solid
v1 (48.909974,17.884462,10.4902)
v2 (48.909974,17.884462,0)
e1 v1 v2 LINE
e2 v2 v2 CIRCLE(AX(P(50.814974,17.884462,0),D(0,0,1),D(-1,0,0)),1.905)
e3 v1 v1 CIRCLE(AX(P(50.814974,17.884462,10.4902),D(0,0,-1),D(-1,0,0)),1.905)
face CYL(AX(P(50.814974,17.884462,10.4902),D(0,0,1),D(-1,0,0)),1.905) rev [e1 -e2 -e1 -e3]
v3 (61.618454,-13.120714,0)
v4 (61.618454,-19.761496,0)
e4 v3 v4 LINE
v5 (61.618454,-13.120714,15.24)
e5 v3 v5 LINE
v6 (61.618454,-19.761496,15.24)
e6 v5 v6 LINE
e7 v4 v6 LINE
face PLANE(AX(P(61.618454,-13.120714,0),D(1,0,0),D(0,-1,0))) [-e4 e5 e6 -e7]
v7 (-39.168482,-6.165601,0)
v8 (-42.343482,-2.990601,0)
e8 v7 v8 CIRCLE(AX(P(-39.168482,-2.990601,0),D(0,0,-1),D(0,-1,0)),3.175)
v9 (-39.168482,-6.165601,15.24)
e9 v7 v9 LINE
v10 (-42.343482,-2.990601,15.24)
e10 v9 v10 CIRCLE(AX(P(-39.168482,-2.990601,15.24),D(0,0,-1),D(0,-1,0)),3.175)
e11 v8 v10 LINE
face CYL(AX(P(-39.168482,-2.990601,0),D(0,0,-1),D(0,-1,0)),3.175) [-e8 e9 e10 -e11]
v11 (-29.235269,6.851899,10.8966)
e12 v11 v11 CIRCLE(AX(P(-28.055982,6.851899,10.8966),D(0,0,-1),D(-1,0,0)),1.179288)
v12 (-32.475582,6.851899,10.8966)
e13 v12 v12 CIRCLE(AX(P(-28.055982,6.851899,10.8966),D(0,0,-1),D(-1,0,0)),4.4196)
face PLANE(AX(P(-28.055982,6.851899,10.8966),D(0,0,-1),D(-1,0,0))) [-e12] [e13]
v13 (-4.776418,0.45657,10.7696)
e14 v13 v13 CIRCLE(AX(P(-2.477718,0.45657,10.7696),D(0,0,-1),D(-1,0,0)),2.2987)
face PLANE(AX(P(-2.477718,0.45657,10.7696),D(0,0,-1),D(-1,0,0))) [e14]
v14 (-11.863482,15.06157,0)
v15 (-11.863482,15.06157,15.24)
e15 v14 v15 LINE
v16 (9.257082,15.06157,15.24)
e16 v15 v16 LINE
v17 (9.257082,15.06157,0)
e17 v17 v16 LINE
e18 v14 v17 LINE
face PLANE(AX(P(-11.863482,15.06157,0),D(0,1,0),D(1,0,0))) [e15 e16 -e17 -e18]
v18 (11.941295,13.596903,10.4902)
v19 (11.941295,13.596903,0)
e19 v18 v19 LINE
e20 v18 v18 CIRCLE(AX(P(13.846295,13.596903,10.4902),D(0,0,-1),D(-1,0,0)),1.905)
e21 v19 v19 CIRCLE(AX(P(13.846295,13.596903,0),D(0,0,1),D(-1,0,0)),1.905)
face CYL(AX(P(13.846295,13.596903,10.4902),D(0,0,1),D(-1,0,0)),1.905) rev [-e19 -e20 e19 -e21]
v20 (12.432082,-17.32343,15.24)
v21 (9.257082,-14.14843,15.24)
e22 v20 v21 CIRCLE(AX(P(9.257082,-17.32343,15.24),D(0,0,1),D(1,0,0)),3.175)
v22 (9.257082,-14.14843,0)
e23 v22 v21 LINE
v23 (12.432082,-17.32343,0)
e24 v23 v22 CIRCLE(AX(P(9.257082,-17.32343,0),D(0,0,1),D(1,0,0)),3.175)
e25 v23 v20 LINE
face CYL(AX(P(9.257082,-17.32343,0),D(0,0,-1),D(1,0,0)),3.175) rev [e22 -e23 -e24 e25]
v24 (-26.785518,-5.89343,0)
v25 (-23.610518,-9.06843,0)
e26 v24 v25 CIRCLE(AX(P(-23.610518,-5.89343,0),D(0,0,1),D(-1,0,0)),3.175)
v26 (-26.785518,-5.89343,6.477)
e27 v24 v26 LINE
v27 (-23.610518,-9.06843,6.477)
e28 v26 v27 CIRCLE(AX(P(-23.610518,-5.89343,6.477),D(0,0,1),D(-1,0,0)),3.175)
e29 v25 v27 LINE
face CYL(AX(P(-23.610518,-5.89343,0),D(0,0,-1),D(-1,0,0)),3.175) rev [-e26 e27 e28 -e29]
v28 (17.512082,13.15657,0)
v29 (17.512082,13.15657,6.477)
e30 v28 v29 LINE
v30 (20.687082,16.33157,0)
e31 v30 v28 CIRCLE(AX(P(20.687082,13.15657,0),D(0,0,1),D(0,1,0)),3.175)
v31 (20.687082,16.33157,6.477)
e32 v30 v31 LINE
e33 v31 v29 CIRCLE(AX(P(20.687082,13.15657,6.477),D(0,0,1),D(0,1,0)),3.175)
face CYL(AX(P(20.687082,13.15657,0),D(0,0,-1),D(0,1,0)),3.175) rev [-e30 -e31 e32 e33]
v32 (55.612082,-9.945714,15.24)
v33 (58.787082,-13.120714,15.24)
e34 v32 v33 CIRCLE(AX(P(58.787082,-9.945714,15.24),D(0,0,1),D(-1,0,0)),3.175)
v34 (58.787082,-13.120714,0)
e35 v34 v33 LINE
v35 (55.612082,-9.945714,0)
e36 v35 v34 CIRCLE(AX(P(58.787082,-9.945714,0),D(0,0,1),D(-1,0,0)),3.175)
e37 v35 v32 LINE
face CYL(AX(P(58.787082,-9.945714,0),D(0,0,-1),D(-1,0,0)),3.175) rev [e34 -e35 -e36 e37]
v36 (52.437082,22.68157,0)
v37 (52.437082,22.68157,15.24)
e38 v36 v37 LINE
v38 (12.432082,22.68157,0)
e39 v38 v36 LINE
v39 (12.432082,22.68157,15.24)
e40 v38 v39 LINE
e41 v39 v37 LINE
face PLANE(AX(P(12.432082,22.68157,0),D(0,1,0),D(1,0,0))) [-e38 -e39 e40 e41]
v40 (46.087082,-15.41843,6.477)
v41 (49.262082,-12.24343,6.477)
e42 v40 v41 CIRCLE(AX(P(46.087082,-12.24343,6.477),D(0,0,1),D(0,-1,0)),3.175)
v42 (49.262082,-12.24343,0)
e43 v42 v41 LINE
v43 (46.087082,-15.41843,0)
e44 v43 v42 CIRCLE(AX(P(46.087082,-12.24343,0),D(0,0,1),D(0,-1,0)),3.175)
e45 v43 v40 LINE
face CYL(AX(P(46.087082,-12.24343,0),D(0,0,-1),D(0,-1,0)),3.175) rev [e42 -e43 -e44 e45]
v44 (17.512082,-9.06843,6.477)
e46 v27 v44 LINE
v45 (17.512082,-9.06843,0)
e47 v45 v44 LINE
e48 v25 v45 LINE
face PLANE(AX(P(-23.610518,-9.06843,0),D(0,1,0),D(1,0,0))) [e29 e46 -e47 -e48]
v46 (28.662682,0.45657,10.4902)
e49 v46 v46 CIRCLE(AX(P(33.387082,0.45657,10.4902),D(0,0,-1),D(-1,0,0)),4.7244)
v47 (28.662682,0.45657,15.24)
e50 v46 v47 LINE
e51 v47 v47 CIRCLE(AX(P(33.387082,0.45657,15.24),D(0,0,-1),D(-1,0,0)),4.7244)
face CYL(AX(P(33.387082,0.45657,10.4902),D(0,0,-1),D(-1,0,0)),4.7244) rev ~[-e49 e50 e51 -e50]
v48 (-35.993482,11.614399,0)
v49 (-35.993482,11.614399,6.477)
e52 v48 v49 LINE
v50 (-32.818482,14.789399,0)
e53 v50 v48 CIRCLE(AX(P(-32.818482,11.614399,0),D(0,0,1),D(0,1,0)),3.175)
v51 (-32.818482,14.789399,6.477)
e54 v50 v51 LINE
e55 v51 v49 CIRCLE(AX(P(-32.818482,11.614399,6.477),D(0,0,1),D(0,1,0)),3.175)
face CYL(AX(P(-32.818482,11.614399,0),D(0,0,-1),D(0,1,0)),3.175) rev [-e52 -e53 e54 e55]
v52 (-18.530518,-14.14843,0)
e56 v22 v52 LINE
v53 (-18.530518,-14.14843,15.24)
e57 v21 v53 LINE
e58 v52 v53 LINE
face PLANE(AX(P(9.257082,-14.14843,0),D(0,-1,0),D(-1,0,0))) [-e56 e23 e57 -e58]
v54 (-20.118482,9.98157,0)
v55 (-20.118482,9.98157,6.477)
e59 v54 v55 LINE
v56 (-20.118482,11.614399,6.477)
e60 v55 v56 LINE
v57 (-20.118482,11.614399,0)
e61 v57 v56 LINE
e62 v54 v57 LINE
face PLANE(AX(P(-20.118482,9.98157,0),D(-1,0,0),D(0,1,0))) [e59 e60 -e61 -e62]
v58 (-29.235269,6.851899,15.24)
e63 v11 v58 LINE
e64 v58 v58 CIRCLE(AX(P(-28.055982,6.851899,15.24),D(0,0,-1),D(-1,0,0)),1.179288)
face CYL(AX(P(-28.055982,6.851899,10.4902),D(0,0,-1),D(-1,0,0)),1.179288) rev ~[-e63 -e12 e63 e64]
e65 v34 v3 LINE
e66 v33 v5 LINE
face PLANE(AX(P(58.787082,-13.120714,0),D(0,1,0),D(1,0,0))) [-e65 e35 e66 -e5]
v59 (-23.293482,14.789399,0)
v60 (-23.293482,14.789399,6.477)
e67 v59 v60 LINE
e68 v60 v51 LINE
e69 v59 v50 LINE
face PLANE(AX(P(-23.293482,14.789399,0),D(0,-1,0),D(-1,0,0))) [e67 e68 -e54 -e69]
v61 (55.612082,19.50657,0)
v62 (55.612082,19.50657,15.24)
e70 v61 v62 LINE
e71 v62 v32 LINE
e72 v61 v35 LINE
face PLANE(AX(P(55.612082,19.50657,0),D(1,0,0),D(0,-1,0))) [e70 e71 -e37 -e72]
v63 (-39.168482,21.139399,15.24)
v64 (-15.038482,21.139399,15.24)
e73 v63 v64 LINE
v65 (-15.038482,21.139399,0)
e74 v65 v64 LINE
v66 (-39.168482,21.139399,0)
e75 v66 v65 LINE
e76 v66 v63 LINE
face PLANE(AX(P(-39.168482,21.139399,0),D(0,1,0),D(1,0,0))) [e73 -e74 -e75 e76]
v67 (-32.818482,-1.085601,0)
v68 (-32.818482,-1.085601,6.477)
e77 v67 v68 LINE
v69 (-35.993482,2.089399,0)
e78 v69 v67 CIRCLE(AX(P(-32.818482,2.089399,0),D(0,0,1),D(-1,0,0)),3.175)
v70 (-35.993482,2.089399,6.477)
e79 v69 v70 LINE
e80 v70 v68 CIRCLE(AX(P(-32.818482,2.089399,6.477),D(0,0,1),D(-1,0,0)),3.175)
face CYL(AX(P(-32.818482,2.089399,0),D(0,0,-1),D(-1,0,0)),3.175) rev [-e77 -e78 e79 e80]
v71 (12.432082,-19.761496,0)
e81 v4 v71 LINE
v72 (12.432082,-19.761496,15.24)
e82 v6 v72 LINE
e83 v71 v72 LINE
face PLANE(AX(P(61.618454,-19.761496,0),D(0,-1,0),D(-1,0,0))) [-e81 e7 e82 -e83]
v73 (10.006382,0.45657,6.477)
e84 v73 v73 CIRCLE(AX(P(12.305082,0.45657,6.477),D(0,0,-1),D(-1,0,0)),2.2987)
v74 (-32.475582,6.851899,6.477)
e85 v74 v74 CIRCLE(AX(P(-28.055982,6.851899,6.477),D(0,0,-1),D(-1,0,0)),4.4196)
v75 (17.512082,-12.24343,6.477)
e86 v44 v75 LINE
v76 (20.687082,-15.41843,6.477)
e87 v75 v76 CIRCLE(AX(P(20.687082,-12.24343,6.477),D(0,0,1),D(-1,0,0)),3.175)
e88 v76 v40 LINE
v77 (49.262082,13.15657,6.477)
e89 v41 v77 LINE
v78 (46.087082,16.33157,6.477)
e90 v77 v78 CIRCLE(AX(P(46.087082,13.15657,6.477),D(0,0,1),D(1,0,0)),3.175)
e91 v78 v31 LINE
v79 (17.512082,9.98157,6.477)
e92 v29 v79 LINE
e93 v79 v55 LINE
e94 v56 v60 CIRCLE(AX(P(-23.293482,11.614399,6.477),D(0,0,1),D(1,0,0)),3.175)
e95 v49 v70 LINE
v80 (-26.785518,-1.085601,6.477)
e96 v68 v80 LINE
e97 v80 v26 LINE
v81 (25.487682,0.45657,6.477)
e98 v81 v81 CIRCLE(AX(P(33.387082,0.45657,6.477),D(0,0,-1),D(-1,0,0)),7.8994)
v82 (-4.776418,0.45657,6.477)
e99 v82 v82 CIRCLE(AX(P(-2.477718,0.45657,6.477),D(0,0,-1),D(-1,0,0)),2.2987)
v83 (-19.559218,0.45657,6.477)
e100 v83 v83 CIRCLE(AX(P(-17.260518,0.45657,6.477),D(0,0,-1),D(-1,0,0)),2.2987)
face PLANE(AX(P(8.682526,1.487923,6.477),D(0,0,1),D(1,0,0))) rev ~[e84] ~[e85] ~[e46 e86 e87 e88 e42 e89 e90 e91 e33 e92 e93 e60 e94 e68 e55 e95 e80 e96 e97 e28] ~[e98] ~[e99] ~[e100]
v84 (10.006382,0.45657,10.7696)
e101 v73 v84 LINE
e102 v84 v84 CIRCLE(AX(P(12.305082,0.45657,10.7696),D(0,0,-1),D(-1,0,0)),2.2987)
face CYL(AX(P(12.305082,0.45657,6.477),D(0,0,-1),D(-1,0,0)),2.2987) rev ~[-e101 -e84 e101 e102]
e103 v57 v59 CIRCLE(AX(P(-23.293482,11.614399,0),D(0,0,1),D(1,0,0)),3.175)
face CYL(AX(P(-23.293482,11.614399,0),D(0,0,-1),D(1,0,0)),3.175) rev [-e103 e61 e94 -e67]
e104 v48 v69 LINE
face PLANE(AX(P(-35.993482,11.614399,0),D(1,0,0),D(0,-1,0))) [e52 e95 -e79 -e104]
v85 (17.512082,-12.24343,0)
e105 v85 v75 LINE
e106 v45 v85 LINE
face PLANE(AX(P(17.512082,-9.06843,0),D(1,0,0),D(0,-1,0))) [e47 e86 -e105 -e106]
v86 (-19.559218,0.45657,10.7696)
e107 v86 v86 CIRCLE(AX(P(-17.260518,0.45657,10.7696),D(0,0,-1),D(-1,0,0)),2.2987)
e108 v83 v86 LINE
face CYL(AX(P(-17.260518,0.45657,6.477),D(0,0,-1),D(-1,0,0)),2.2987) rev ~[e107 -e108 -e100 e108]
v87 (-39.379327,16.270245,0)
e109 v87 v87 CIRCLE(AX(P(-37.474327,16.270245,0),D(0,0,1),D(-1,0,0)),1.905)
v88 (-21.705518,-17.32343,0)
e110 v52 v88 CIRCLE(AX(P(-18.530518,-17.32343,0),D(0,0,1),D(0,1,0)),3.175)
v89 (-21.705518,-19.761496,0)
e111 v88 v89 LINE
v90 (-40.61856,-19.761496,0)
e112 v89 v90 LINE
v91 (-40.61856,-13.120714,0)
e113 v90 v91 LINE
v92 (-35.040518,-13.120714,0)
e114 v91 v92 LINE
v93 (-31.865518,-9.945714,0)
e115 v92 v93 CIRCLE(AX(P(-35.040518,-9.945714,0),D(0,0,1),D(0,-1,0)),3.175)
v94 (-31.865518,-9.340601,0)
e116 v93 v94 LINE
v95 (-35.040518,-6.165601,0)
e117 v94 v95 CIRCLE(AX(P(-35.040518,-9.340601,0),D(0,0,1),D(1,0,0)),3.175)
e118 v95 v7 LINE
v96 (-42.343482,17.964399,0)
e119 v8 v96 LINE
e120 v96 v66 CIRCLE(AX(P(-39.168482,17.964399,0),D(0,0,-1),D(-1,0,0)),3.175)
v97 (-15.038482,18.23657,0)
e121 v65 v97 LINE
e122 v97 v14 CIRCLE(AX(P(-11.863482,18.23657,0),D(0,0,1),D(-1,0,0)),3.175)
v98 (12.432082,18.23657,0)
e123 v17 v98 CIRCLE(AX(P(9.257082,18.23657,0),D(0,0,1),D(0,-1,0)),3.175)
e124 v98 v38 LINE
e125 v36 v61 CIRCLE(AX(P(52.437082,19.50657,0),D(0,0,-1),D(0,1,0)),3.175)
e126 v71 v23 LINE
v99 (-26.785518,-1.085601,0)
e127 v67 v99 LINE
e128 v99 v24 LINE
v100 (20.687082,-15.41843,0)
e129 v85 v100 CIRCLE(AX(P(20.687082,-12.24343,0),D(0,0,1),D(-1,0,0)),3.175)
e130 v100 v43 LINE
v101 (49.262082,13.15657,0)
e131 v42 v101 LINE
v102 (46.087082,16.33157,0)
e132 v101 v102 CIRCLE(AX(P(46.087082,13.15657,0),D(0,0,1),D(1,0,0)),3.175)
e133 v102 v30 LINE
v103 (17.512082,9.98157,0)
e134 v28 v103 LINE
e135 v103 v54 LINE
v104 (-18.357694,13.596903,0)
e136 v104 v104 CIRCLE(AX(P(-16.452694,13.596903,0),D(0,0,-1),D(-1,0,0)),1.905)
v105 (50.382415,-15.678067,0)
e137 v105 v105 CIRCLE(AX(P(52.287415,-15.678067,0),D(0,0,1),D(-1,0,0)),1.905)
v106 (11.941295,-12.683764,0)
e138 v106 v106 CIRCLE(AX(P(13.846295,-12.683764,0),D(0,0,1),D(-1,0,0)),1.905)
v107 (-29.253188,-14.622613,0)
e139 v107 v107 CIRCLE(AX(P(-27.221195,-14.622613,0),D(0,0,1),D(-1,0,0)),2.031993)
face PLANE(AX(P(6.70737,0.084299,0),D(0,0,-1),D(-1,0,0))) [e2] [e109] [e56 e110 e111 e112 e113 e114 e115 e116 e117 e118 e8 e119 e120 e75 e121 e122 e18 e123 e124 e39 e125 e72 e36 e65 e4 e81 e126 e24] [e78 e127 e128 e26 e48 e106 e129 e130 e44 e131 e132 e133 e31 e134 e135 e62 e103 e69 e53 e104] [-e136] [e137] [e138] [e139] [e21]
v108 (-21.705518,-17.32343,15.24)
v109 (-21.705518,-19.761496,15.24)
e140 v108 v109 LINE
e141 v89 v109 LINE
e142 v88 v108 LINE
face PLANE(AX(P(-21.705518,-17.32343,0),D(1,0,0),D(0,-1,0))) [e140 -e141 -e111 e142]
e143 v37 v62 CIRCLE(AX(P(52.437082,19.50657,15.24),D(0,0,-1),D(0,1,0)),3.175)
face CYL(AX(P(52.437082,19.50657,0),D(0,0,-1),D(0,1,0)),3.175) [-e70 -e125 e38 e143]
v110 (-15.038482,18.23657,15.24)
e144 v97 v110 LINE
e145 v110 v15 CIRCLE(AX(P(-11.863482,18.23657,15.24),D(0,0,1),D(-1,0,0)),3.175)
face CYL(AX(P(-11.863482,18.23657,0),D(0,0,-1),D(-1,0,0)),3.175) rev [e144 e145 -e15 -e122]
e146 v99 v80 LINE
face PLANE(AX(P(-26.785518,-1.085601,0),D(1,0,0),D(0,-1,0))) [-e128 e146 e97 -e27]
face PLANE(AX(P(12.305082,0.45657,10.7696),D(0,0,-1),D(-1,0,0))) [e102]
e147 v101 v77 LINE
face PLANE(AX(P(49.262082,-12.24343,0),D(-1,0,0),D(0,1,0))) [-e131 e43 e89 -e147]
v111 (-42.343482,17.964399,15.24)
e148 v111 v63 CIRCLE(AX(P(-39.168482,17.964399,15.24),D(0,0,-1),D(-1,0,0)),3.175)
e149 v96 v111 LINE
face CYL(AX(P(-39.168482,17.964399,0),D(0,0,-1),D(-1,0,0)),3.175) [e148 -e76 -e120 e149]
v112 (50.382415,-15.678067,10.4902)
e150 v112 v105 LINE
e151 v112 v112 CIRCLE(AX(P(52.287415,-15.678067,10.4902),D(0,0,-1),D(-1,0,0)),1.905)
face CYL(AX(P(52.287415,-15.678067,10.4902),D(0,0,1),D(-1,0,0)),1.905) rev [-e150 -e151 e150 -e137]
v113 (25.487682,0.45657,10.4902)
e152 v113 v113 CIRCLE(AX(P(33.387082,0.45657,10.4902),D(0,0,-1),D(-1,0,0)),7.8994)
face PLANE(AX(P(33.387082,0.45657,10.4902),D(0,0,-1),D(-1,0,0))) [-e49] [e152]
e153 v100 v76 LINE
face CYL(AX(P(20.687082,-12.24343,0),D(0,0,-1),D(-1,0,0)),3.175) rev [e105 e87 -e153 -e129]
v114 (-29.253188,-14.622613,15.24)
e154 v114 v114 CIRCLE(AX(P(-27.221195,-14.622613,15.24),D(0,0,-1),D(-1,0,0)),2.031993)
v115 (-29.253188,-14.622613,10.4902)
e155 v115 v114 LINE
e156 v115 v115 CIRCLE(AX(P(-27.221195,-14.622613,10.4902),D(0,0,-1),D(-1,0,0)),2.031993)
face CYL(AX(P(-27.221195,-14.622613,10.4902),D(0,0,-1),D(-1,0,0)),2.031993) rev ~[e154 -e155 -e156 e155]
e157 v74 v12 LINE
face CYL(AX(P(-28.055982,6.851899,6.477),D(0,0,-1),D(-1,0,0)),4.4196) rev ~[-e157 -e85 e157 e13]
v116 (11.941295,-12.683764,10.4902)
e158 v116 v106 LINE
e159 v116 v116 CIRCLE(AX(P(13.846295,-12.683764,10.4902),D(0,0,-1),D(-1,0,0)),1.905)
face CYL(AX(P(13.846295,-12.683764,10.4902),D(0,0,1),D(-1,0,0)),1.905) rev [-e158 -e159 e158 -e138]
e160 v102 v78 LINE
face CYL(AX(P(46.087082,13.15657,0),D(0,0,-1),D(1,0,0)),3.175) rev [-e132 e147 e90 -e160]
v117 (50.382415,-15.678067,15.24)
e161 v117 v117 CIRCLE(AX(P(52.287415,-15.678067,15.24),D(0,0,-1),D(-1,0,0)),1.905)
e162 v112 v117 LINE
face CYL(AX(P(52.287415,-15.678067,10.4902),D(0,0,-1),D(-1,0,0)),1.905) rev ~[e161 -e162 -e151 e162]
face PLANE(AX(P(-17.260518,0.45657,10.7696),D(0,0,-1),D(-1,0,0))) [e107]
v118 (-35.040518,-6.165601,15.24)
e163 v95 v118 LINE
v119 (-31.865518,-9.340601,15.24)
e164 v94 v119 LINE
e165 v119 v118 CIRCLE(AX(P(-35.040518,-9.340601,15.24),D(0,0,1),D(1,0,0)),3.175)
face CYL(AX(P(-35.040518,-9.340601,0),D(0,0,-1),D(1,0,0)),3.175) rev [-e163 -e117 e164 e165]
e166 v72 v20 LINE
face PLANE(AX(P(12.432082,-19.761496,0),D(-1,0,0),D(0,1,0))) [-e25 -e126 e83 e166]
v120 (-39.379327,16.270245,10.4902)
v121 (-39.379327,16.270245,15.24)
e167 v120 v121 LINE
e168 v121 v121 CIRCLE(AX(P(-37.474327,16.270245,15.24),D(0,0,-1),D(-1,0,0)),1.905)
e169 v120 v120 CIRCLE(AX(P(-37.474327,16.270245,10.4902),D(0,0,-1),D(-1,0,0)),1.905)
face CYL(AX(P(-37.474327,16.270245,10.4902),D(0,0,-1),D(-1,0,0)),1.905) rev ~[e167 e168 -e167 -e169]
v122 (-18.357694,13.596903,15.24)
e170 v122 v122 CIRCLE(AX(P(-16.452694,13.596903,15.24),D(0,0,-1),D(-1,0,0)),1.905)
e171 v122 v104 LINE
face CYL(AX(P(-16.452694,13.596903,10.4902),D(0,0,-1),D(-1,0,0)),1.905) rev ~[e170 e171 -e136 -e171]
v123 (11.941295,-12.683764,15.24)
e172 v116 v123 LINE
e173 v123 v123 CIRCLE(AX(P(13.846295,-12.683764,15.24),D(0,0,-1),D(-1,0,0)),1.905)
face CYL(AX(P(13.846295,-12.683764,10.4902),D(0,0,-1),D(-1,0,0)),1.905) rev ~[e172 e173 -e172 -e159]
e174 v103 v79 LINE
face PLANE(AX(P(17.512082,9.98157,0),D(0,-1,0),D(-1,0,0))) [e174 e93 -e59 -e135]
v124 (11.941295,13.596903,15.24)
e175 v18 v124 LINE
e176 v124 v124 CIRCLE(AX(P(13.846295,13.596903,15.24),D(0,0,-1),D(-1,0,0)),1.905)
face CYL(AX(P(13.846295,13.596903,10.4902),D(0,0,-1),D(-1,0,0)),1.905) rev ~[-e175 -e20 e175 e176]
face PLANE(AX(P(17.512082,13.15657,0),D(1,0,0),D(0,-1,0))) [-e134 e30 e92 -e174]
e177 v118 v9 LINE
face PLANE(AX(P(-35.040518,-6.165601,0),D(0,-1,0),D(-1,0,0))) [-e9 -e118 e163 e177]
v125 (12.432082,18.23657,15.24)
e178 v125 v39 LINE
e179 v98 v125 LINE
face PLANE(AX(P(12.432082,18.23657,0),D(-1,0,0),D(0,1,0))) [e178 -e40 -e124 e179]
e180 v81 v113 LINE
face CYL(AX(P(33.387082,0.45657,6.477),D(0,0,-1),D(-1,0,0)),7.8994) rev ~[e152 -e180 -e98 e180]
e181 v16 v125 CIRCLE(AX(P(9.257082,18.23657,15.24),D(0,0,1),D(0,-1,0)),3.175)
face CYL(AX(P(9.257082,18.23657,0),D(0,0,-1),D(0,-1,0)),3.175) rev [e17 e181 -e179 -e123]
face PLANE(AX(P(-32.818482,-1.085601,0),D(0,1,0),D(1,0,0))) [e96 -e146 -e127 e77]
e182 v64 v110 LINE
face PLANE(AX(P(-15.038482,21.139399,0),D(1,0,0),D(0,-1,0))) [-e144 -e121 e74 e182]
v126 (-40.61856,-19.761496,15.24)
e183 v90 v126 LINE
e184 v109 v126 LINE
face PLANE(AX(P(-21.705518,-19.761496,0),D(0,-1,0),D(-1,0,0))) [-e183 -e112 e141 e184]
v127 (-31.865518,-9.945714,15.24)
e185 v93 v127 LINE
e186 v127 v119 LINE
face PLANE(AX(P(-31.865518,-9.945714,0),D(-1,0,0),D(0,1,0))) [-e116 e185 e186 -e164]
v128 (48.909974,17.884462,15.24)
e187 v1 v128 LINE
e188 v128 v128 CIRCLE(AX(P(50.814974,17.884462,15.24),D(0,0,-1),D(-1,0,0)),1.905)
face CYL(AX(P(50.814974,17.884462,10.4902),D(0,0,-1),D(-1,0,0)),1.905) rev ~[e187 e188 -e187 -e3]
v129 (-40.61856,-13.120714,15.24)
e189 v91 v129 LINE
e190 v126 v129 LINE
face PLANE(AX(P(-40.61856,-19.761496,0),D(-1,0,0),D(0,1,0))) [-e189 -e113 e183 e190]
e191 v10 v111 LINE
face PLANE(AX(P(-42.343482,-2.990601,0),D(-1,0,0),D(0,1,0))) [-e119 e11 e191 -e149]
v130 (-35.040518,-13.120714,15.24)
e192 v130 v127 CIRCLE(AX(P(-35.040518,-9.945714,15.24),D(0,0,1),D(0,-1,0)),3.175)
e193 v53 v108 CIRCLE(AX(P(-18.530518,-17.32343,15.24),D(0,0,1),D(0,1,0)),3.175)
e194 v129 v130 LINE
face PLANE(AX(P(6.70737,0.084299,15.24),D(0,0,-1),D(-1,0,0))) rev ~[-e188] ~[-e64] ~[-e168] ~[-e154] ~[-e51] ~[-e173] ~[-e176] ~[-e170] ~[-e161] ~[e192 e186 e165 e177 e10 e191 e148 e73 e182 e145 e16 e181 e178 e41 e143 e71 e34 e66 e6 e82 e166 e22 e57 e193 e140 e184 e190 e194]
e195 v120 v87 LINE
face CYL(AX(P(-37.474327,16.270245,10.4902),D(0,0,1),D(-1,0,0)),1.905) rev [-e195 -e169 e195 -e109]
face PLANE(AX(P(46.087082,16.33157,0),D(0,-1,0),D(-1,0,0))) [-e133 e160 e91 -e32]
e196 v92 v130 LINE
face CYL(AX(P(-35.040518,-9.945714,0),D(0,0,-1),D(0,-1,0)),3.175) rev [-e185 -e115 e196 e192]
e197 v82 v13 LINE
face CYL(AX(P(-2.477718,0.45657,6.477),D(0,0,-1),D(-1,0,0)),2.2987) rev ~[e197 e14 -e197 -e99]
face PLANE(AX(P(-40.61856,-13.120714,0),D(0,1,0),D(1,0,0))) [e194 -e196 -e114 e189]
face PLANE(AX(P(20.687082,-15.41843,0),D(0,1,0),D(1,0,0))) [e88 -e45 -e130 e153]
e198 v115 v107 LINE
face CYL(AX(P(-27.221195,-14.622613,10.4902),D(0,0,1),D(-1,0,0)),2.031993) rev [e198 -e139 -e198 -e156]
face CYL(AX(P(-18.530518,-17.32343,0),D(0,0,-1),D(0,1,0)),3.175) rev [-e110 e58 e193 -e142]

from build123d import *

# Parameters (mm, degrees)
EXTRUDE3_DEPTH = 15.24
EXTRUDE4_DEPTH = 6.477
SKETCH7_R      = 7.8994
EXTRUDE5_DEPTH = 4.0132
SKETCH8_R      = 2.2987
EXTRUDE6_DEPTH = 4.2926
SKETCH9_R      = 4.4196
EXTRUDE7_DEPTH = 4.4196
SKETCH10_R     = 4.7244
SKETCH10_R_2   = 1.905
SKETCH10_R_3   = 1.179287719
SKETCH10_R_4   = 2.031992692
EXTRUDE8_DEPTH = 17.5768


with BuildPart() as part:
    # Sketch4 → Extrude3 (new body)
    with BuildSketch(Plane.XY):
        with BuildLine():
            Line((-42.343481517, -2.990600597), (-42.343481517, 17.964399403))
            ThreePointArc((-42.343481517, 17.964399403), (-41.413545547, 20.209463433), (-39.168481517, 21.139399403))
            Line((-39.168481517, 21.139399403), (-15.038481517, 21.139399403))
            Line((-15.038481517, 21.139399403), (-15.038481517, 18.236569756))
            ThreePointArc((-15.038481517, 18.236569756), (-14.108545547, 15.991505726), (-11.863481517, 15.061569756))
            Line((-11.863481517, 15.061569756), (9.257081626, 15.061569756))
            ThreePointArc((9.257081626, 15.061569756), (11.502145656, 15.991505726), (12.432081626, 18.236569756))
            Line((12.432081626, 18.236569756), (12.432081626, 22.681569756))
            Line((12.432081626, 22.681569756), (52.437081626, 22.681569756))
            ThreePointArc((52.437081626, 22.681569756), (54.682145656, 21.751633786), (55.612081626, 19.506569756))
            Line((55.612081626, 19.506569756), (55.612081626, -9.945714332))
            ThreePointArc((55.612081626, -9.945714332), (56.542017596, -12.190778362), (58.787081626, -13.120714332))
            Line((58.787081626, -13.120714332), (61.618454053, -13.120714332))
            Line((61.618454053, -13.120714332), (61.618454053, -19.76149571))
            Line((61.618454053, -19.76149571), (12.432081626, -19.76149571))
            Line((12.432081626, -19.76149571), (12.432081626, -17.323430244))
            ThreePointArc((12.432081626, -17.323430244), (11.502145656, -15.078366214), (9.257081626, -14.148430244))
            Line((9.257081626, -14.148430244), (-18.530518374, -14.148430244))
            ThreePointArc((-18.530518374, -14.148430244), (-20.775582404, -15.078366214), (-21.705518374, -17.323430244))
            Line((-21.705518374, -17.323430244), (-21.705518374, -19.76149571))
            Line((-21.705518374, -19.76149571), (-40.618560355, -19.76149571))
            Line((-40.618560355, -19.76149571), (-40.618560355, -13.120714332))
            Line((-40.618560355, -13.120714332), (-35.040518374, -13.120714332))
            ThreePointArc((-35.040518374, -13.120714332), (-32.795454344, -12.190778362), (-31.865518374, -9.945714332))
            Line((-31.865518374, -9.945714332), (-31.865518374, -9.340600597))
            ThreePointArc((-31.865518374, -9.340600597), (-32.795454344, -7.095536567), (-35.040518374, -6.165600597))
            Line((-35.040518374, -6.165600597), (-39.168481517, -6.165600597))
            ThreePointArc((-39.168481517, -6.165600597), (-41.413545547, -5.235664628), (-42.343481517, -2.990600597))
        make_face()
    extrude(amount=EXTRUDE3_DEPTH)

    # Sketch1 → Extrude4 (cut)
    with BuildSketch(Plane.XY):
        with BuildLine():
            Line((-35.993481517, 11.614399403), (-35.993481517, 2.089399403))
            ThreePointArc((-35.993481517, 2.089399403), (-35.063545547, -0.155664628), (-32.818481517, -1.085600597))
            Line((-32.818481517, -1.085600597), (-26.785518374, -1.085600597))
            Line((-26.785518374, -1.085600597), (-26.785518374, -5.893430244))
            ThreePointArc((-26.785518374, -5.893430244), (-25.855582404, -8.138494274), (-23.610518374, -9.068430244))
            Line((-23.610518374, -9.068430244), (17.512081626, -9.068430244))
            Line((17.512081626, -9.068430244), (17.512081626, -12.243430244))
            ThreePointArc((17.512081626, -12.243430244), (18.442017596, -14.488494274), (20.687081626, -15.418430244))
            Line((20.687081626, -15.418430244), (46.087081626, -15.418430244))
            ThreePointArc((46.087081626, -15.418430244), (48.332145656, -14.488494274), (49.262081626, -12.243430244))
            Line((49.262081626, -12.243430244), (49.262081626, 13.156569756))
            ThreePointArc((49.262081626, 13.156569756), (48.332145656, 15.401633786), (46.087081626, 16.331569756))
            Line((46.087081626, 16.331569756), (20.687081626, 16.331569756))
            ThreePointArc((20.687081626, 16.331569756), (18.442017596, 15.401633786), (17.512081626, 13.156569756))
            Line((17.512081626, 13.156569756), (17.512081626, 9.981569756))
            Line((17.512081626, 9.981569756), (-20.118481517, 9.981569756))
            Line((-20.118481517, 9.981569756), (-20.118481517, 11.614399403))
            ThreePointArc((-20.118481517, 11.614399403), (-21.048417487, 13.859463433), (-23.293481517, 14.789399403))
            Line((-23.293481517, 14.789399403), (-32.818481517, 14.789399403))
            ThreePointArc((-32.818481517, 14.789399403), (-35.063545547, 13.859463433), (-35.993481517, 11.614399403))
        make_face()
    extrude(amount=EXTRUDE4_DEPTH, mode=Mode.SUBTRACT)

    # Sketch7 → Extrude5 (cut)
    with BuildSketch(Plane(origin=(0, 0, 6.477), x_dir=(-1, 0, 0), z_dir=(0, 0, -1))):
        with Locations((-33.387081626, 0.456569756)):
            Circle(SKETCH7_R)
    extrude(amount=-EXTRUDE5_DEPTH, mode=Mode.SUBTRACT)

    # Sketch8 → Extrude6 (cut)
    with BuildSketch(Plane(origin=(0, 0, 6.477), x_dir=(-1, 0, 0), z_dir=(0, 0, -1))):
        with Locations((-12.305081626, 0.456569756)):
            Circle(SKETCH8_R)
        with Locations((2.477718374, 0.456569756)):
            Circle(SKETCH8_R)
        with Locations((17.260518374, 0.456569756)):
            Circle(SKETCH8_R)
    extrude(amount=-EXTRUDE6_DEPTH, mode=Mode.SUBTRACT)

    # Sketch9 → Extrude7 (cut)
    with BuildSketch(Plane(origin=(0, 0, 6.477), x_dir=(-1, 0, 0), z_dir=(0, 0, -1))):
        with Locations((28.055981517, 6.851899403)):
            Circle(SKETCH9_R)
    extrude(amount=-EXTRUDE7_DEPTH, mode=Mode.SUBTRACT)

    # Sketch10 → Extrude8 (cut, symmetric)
    with BuildSketch(Plane(origin=(0, 0, 10.4902), x_dir=(-1, 0, 0), z_dir=(0, 0, -1))):
        with Locations((-33.387081626, 0.456569756)):
            Circle(SKETCH10_R)
        with Locations((-52.287415303, -15.678066597)):
            Circle(SKETCH10_R_2)
        with Locations((28.055981517, 6.851899403)):
            Circle(SKETCH10_R_3)
        with Locations((37.474326825, 16.270244711)):
            Circle(SKETCH10_R_2)
        with Locations((-13.846294556, 13.596903192)):
            Circle(SKETCH10_R_2)
        with Locations((-13.846294556, -12.683763681)):
            Circle(SKETCH10_R_2)
        with Locations((27.221195322, -14.622613425)):
            Circle(SKETCH10_R_4)
        with Locations((-50.814973838, 17.884461968)):
            Circle(SKETCH10_R_2)
        with Locations((16.452694446, 13.596903192)):
            Circle(SKETCH10_R_2)
    extrude(amount=EXTRUDE8_DEPTH, both=True, mode=Mode.SUBTRACT)


solid = part.part
